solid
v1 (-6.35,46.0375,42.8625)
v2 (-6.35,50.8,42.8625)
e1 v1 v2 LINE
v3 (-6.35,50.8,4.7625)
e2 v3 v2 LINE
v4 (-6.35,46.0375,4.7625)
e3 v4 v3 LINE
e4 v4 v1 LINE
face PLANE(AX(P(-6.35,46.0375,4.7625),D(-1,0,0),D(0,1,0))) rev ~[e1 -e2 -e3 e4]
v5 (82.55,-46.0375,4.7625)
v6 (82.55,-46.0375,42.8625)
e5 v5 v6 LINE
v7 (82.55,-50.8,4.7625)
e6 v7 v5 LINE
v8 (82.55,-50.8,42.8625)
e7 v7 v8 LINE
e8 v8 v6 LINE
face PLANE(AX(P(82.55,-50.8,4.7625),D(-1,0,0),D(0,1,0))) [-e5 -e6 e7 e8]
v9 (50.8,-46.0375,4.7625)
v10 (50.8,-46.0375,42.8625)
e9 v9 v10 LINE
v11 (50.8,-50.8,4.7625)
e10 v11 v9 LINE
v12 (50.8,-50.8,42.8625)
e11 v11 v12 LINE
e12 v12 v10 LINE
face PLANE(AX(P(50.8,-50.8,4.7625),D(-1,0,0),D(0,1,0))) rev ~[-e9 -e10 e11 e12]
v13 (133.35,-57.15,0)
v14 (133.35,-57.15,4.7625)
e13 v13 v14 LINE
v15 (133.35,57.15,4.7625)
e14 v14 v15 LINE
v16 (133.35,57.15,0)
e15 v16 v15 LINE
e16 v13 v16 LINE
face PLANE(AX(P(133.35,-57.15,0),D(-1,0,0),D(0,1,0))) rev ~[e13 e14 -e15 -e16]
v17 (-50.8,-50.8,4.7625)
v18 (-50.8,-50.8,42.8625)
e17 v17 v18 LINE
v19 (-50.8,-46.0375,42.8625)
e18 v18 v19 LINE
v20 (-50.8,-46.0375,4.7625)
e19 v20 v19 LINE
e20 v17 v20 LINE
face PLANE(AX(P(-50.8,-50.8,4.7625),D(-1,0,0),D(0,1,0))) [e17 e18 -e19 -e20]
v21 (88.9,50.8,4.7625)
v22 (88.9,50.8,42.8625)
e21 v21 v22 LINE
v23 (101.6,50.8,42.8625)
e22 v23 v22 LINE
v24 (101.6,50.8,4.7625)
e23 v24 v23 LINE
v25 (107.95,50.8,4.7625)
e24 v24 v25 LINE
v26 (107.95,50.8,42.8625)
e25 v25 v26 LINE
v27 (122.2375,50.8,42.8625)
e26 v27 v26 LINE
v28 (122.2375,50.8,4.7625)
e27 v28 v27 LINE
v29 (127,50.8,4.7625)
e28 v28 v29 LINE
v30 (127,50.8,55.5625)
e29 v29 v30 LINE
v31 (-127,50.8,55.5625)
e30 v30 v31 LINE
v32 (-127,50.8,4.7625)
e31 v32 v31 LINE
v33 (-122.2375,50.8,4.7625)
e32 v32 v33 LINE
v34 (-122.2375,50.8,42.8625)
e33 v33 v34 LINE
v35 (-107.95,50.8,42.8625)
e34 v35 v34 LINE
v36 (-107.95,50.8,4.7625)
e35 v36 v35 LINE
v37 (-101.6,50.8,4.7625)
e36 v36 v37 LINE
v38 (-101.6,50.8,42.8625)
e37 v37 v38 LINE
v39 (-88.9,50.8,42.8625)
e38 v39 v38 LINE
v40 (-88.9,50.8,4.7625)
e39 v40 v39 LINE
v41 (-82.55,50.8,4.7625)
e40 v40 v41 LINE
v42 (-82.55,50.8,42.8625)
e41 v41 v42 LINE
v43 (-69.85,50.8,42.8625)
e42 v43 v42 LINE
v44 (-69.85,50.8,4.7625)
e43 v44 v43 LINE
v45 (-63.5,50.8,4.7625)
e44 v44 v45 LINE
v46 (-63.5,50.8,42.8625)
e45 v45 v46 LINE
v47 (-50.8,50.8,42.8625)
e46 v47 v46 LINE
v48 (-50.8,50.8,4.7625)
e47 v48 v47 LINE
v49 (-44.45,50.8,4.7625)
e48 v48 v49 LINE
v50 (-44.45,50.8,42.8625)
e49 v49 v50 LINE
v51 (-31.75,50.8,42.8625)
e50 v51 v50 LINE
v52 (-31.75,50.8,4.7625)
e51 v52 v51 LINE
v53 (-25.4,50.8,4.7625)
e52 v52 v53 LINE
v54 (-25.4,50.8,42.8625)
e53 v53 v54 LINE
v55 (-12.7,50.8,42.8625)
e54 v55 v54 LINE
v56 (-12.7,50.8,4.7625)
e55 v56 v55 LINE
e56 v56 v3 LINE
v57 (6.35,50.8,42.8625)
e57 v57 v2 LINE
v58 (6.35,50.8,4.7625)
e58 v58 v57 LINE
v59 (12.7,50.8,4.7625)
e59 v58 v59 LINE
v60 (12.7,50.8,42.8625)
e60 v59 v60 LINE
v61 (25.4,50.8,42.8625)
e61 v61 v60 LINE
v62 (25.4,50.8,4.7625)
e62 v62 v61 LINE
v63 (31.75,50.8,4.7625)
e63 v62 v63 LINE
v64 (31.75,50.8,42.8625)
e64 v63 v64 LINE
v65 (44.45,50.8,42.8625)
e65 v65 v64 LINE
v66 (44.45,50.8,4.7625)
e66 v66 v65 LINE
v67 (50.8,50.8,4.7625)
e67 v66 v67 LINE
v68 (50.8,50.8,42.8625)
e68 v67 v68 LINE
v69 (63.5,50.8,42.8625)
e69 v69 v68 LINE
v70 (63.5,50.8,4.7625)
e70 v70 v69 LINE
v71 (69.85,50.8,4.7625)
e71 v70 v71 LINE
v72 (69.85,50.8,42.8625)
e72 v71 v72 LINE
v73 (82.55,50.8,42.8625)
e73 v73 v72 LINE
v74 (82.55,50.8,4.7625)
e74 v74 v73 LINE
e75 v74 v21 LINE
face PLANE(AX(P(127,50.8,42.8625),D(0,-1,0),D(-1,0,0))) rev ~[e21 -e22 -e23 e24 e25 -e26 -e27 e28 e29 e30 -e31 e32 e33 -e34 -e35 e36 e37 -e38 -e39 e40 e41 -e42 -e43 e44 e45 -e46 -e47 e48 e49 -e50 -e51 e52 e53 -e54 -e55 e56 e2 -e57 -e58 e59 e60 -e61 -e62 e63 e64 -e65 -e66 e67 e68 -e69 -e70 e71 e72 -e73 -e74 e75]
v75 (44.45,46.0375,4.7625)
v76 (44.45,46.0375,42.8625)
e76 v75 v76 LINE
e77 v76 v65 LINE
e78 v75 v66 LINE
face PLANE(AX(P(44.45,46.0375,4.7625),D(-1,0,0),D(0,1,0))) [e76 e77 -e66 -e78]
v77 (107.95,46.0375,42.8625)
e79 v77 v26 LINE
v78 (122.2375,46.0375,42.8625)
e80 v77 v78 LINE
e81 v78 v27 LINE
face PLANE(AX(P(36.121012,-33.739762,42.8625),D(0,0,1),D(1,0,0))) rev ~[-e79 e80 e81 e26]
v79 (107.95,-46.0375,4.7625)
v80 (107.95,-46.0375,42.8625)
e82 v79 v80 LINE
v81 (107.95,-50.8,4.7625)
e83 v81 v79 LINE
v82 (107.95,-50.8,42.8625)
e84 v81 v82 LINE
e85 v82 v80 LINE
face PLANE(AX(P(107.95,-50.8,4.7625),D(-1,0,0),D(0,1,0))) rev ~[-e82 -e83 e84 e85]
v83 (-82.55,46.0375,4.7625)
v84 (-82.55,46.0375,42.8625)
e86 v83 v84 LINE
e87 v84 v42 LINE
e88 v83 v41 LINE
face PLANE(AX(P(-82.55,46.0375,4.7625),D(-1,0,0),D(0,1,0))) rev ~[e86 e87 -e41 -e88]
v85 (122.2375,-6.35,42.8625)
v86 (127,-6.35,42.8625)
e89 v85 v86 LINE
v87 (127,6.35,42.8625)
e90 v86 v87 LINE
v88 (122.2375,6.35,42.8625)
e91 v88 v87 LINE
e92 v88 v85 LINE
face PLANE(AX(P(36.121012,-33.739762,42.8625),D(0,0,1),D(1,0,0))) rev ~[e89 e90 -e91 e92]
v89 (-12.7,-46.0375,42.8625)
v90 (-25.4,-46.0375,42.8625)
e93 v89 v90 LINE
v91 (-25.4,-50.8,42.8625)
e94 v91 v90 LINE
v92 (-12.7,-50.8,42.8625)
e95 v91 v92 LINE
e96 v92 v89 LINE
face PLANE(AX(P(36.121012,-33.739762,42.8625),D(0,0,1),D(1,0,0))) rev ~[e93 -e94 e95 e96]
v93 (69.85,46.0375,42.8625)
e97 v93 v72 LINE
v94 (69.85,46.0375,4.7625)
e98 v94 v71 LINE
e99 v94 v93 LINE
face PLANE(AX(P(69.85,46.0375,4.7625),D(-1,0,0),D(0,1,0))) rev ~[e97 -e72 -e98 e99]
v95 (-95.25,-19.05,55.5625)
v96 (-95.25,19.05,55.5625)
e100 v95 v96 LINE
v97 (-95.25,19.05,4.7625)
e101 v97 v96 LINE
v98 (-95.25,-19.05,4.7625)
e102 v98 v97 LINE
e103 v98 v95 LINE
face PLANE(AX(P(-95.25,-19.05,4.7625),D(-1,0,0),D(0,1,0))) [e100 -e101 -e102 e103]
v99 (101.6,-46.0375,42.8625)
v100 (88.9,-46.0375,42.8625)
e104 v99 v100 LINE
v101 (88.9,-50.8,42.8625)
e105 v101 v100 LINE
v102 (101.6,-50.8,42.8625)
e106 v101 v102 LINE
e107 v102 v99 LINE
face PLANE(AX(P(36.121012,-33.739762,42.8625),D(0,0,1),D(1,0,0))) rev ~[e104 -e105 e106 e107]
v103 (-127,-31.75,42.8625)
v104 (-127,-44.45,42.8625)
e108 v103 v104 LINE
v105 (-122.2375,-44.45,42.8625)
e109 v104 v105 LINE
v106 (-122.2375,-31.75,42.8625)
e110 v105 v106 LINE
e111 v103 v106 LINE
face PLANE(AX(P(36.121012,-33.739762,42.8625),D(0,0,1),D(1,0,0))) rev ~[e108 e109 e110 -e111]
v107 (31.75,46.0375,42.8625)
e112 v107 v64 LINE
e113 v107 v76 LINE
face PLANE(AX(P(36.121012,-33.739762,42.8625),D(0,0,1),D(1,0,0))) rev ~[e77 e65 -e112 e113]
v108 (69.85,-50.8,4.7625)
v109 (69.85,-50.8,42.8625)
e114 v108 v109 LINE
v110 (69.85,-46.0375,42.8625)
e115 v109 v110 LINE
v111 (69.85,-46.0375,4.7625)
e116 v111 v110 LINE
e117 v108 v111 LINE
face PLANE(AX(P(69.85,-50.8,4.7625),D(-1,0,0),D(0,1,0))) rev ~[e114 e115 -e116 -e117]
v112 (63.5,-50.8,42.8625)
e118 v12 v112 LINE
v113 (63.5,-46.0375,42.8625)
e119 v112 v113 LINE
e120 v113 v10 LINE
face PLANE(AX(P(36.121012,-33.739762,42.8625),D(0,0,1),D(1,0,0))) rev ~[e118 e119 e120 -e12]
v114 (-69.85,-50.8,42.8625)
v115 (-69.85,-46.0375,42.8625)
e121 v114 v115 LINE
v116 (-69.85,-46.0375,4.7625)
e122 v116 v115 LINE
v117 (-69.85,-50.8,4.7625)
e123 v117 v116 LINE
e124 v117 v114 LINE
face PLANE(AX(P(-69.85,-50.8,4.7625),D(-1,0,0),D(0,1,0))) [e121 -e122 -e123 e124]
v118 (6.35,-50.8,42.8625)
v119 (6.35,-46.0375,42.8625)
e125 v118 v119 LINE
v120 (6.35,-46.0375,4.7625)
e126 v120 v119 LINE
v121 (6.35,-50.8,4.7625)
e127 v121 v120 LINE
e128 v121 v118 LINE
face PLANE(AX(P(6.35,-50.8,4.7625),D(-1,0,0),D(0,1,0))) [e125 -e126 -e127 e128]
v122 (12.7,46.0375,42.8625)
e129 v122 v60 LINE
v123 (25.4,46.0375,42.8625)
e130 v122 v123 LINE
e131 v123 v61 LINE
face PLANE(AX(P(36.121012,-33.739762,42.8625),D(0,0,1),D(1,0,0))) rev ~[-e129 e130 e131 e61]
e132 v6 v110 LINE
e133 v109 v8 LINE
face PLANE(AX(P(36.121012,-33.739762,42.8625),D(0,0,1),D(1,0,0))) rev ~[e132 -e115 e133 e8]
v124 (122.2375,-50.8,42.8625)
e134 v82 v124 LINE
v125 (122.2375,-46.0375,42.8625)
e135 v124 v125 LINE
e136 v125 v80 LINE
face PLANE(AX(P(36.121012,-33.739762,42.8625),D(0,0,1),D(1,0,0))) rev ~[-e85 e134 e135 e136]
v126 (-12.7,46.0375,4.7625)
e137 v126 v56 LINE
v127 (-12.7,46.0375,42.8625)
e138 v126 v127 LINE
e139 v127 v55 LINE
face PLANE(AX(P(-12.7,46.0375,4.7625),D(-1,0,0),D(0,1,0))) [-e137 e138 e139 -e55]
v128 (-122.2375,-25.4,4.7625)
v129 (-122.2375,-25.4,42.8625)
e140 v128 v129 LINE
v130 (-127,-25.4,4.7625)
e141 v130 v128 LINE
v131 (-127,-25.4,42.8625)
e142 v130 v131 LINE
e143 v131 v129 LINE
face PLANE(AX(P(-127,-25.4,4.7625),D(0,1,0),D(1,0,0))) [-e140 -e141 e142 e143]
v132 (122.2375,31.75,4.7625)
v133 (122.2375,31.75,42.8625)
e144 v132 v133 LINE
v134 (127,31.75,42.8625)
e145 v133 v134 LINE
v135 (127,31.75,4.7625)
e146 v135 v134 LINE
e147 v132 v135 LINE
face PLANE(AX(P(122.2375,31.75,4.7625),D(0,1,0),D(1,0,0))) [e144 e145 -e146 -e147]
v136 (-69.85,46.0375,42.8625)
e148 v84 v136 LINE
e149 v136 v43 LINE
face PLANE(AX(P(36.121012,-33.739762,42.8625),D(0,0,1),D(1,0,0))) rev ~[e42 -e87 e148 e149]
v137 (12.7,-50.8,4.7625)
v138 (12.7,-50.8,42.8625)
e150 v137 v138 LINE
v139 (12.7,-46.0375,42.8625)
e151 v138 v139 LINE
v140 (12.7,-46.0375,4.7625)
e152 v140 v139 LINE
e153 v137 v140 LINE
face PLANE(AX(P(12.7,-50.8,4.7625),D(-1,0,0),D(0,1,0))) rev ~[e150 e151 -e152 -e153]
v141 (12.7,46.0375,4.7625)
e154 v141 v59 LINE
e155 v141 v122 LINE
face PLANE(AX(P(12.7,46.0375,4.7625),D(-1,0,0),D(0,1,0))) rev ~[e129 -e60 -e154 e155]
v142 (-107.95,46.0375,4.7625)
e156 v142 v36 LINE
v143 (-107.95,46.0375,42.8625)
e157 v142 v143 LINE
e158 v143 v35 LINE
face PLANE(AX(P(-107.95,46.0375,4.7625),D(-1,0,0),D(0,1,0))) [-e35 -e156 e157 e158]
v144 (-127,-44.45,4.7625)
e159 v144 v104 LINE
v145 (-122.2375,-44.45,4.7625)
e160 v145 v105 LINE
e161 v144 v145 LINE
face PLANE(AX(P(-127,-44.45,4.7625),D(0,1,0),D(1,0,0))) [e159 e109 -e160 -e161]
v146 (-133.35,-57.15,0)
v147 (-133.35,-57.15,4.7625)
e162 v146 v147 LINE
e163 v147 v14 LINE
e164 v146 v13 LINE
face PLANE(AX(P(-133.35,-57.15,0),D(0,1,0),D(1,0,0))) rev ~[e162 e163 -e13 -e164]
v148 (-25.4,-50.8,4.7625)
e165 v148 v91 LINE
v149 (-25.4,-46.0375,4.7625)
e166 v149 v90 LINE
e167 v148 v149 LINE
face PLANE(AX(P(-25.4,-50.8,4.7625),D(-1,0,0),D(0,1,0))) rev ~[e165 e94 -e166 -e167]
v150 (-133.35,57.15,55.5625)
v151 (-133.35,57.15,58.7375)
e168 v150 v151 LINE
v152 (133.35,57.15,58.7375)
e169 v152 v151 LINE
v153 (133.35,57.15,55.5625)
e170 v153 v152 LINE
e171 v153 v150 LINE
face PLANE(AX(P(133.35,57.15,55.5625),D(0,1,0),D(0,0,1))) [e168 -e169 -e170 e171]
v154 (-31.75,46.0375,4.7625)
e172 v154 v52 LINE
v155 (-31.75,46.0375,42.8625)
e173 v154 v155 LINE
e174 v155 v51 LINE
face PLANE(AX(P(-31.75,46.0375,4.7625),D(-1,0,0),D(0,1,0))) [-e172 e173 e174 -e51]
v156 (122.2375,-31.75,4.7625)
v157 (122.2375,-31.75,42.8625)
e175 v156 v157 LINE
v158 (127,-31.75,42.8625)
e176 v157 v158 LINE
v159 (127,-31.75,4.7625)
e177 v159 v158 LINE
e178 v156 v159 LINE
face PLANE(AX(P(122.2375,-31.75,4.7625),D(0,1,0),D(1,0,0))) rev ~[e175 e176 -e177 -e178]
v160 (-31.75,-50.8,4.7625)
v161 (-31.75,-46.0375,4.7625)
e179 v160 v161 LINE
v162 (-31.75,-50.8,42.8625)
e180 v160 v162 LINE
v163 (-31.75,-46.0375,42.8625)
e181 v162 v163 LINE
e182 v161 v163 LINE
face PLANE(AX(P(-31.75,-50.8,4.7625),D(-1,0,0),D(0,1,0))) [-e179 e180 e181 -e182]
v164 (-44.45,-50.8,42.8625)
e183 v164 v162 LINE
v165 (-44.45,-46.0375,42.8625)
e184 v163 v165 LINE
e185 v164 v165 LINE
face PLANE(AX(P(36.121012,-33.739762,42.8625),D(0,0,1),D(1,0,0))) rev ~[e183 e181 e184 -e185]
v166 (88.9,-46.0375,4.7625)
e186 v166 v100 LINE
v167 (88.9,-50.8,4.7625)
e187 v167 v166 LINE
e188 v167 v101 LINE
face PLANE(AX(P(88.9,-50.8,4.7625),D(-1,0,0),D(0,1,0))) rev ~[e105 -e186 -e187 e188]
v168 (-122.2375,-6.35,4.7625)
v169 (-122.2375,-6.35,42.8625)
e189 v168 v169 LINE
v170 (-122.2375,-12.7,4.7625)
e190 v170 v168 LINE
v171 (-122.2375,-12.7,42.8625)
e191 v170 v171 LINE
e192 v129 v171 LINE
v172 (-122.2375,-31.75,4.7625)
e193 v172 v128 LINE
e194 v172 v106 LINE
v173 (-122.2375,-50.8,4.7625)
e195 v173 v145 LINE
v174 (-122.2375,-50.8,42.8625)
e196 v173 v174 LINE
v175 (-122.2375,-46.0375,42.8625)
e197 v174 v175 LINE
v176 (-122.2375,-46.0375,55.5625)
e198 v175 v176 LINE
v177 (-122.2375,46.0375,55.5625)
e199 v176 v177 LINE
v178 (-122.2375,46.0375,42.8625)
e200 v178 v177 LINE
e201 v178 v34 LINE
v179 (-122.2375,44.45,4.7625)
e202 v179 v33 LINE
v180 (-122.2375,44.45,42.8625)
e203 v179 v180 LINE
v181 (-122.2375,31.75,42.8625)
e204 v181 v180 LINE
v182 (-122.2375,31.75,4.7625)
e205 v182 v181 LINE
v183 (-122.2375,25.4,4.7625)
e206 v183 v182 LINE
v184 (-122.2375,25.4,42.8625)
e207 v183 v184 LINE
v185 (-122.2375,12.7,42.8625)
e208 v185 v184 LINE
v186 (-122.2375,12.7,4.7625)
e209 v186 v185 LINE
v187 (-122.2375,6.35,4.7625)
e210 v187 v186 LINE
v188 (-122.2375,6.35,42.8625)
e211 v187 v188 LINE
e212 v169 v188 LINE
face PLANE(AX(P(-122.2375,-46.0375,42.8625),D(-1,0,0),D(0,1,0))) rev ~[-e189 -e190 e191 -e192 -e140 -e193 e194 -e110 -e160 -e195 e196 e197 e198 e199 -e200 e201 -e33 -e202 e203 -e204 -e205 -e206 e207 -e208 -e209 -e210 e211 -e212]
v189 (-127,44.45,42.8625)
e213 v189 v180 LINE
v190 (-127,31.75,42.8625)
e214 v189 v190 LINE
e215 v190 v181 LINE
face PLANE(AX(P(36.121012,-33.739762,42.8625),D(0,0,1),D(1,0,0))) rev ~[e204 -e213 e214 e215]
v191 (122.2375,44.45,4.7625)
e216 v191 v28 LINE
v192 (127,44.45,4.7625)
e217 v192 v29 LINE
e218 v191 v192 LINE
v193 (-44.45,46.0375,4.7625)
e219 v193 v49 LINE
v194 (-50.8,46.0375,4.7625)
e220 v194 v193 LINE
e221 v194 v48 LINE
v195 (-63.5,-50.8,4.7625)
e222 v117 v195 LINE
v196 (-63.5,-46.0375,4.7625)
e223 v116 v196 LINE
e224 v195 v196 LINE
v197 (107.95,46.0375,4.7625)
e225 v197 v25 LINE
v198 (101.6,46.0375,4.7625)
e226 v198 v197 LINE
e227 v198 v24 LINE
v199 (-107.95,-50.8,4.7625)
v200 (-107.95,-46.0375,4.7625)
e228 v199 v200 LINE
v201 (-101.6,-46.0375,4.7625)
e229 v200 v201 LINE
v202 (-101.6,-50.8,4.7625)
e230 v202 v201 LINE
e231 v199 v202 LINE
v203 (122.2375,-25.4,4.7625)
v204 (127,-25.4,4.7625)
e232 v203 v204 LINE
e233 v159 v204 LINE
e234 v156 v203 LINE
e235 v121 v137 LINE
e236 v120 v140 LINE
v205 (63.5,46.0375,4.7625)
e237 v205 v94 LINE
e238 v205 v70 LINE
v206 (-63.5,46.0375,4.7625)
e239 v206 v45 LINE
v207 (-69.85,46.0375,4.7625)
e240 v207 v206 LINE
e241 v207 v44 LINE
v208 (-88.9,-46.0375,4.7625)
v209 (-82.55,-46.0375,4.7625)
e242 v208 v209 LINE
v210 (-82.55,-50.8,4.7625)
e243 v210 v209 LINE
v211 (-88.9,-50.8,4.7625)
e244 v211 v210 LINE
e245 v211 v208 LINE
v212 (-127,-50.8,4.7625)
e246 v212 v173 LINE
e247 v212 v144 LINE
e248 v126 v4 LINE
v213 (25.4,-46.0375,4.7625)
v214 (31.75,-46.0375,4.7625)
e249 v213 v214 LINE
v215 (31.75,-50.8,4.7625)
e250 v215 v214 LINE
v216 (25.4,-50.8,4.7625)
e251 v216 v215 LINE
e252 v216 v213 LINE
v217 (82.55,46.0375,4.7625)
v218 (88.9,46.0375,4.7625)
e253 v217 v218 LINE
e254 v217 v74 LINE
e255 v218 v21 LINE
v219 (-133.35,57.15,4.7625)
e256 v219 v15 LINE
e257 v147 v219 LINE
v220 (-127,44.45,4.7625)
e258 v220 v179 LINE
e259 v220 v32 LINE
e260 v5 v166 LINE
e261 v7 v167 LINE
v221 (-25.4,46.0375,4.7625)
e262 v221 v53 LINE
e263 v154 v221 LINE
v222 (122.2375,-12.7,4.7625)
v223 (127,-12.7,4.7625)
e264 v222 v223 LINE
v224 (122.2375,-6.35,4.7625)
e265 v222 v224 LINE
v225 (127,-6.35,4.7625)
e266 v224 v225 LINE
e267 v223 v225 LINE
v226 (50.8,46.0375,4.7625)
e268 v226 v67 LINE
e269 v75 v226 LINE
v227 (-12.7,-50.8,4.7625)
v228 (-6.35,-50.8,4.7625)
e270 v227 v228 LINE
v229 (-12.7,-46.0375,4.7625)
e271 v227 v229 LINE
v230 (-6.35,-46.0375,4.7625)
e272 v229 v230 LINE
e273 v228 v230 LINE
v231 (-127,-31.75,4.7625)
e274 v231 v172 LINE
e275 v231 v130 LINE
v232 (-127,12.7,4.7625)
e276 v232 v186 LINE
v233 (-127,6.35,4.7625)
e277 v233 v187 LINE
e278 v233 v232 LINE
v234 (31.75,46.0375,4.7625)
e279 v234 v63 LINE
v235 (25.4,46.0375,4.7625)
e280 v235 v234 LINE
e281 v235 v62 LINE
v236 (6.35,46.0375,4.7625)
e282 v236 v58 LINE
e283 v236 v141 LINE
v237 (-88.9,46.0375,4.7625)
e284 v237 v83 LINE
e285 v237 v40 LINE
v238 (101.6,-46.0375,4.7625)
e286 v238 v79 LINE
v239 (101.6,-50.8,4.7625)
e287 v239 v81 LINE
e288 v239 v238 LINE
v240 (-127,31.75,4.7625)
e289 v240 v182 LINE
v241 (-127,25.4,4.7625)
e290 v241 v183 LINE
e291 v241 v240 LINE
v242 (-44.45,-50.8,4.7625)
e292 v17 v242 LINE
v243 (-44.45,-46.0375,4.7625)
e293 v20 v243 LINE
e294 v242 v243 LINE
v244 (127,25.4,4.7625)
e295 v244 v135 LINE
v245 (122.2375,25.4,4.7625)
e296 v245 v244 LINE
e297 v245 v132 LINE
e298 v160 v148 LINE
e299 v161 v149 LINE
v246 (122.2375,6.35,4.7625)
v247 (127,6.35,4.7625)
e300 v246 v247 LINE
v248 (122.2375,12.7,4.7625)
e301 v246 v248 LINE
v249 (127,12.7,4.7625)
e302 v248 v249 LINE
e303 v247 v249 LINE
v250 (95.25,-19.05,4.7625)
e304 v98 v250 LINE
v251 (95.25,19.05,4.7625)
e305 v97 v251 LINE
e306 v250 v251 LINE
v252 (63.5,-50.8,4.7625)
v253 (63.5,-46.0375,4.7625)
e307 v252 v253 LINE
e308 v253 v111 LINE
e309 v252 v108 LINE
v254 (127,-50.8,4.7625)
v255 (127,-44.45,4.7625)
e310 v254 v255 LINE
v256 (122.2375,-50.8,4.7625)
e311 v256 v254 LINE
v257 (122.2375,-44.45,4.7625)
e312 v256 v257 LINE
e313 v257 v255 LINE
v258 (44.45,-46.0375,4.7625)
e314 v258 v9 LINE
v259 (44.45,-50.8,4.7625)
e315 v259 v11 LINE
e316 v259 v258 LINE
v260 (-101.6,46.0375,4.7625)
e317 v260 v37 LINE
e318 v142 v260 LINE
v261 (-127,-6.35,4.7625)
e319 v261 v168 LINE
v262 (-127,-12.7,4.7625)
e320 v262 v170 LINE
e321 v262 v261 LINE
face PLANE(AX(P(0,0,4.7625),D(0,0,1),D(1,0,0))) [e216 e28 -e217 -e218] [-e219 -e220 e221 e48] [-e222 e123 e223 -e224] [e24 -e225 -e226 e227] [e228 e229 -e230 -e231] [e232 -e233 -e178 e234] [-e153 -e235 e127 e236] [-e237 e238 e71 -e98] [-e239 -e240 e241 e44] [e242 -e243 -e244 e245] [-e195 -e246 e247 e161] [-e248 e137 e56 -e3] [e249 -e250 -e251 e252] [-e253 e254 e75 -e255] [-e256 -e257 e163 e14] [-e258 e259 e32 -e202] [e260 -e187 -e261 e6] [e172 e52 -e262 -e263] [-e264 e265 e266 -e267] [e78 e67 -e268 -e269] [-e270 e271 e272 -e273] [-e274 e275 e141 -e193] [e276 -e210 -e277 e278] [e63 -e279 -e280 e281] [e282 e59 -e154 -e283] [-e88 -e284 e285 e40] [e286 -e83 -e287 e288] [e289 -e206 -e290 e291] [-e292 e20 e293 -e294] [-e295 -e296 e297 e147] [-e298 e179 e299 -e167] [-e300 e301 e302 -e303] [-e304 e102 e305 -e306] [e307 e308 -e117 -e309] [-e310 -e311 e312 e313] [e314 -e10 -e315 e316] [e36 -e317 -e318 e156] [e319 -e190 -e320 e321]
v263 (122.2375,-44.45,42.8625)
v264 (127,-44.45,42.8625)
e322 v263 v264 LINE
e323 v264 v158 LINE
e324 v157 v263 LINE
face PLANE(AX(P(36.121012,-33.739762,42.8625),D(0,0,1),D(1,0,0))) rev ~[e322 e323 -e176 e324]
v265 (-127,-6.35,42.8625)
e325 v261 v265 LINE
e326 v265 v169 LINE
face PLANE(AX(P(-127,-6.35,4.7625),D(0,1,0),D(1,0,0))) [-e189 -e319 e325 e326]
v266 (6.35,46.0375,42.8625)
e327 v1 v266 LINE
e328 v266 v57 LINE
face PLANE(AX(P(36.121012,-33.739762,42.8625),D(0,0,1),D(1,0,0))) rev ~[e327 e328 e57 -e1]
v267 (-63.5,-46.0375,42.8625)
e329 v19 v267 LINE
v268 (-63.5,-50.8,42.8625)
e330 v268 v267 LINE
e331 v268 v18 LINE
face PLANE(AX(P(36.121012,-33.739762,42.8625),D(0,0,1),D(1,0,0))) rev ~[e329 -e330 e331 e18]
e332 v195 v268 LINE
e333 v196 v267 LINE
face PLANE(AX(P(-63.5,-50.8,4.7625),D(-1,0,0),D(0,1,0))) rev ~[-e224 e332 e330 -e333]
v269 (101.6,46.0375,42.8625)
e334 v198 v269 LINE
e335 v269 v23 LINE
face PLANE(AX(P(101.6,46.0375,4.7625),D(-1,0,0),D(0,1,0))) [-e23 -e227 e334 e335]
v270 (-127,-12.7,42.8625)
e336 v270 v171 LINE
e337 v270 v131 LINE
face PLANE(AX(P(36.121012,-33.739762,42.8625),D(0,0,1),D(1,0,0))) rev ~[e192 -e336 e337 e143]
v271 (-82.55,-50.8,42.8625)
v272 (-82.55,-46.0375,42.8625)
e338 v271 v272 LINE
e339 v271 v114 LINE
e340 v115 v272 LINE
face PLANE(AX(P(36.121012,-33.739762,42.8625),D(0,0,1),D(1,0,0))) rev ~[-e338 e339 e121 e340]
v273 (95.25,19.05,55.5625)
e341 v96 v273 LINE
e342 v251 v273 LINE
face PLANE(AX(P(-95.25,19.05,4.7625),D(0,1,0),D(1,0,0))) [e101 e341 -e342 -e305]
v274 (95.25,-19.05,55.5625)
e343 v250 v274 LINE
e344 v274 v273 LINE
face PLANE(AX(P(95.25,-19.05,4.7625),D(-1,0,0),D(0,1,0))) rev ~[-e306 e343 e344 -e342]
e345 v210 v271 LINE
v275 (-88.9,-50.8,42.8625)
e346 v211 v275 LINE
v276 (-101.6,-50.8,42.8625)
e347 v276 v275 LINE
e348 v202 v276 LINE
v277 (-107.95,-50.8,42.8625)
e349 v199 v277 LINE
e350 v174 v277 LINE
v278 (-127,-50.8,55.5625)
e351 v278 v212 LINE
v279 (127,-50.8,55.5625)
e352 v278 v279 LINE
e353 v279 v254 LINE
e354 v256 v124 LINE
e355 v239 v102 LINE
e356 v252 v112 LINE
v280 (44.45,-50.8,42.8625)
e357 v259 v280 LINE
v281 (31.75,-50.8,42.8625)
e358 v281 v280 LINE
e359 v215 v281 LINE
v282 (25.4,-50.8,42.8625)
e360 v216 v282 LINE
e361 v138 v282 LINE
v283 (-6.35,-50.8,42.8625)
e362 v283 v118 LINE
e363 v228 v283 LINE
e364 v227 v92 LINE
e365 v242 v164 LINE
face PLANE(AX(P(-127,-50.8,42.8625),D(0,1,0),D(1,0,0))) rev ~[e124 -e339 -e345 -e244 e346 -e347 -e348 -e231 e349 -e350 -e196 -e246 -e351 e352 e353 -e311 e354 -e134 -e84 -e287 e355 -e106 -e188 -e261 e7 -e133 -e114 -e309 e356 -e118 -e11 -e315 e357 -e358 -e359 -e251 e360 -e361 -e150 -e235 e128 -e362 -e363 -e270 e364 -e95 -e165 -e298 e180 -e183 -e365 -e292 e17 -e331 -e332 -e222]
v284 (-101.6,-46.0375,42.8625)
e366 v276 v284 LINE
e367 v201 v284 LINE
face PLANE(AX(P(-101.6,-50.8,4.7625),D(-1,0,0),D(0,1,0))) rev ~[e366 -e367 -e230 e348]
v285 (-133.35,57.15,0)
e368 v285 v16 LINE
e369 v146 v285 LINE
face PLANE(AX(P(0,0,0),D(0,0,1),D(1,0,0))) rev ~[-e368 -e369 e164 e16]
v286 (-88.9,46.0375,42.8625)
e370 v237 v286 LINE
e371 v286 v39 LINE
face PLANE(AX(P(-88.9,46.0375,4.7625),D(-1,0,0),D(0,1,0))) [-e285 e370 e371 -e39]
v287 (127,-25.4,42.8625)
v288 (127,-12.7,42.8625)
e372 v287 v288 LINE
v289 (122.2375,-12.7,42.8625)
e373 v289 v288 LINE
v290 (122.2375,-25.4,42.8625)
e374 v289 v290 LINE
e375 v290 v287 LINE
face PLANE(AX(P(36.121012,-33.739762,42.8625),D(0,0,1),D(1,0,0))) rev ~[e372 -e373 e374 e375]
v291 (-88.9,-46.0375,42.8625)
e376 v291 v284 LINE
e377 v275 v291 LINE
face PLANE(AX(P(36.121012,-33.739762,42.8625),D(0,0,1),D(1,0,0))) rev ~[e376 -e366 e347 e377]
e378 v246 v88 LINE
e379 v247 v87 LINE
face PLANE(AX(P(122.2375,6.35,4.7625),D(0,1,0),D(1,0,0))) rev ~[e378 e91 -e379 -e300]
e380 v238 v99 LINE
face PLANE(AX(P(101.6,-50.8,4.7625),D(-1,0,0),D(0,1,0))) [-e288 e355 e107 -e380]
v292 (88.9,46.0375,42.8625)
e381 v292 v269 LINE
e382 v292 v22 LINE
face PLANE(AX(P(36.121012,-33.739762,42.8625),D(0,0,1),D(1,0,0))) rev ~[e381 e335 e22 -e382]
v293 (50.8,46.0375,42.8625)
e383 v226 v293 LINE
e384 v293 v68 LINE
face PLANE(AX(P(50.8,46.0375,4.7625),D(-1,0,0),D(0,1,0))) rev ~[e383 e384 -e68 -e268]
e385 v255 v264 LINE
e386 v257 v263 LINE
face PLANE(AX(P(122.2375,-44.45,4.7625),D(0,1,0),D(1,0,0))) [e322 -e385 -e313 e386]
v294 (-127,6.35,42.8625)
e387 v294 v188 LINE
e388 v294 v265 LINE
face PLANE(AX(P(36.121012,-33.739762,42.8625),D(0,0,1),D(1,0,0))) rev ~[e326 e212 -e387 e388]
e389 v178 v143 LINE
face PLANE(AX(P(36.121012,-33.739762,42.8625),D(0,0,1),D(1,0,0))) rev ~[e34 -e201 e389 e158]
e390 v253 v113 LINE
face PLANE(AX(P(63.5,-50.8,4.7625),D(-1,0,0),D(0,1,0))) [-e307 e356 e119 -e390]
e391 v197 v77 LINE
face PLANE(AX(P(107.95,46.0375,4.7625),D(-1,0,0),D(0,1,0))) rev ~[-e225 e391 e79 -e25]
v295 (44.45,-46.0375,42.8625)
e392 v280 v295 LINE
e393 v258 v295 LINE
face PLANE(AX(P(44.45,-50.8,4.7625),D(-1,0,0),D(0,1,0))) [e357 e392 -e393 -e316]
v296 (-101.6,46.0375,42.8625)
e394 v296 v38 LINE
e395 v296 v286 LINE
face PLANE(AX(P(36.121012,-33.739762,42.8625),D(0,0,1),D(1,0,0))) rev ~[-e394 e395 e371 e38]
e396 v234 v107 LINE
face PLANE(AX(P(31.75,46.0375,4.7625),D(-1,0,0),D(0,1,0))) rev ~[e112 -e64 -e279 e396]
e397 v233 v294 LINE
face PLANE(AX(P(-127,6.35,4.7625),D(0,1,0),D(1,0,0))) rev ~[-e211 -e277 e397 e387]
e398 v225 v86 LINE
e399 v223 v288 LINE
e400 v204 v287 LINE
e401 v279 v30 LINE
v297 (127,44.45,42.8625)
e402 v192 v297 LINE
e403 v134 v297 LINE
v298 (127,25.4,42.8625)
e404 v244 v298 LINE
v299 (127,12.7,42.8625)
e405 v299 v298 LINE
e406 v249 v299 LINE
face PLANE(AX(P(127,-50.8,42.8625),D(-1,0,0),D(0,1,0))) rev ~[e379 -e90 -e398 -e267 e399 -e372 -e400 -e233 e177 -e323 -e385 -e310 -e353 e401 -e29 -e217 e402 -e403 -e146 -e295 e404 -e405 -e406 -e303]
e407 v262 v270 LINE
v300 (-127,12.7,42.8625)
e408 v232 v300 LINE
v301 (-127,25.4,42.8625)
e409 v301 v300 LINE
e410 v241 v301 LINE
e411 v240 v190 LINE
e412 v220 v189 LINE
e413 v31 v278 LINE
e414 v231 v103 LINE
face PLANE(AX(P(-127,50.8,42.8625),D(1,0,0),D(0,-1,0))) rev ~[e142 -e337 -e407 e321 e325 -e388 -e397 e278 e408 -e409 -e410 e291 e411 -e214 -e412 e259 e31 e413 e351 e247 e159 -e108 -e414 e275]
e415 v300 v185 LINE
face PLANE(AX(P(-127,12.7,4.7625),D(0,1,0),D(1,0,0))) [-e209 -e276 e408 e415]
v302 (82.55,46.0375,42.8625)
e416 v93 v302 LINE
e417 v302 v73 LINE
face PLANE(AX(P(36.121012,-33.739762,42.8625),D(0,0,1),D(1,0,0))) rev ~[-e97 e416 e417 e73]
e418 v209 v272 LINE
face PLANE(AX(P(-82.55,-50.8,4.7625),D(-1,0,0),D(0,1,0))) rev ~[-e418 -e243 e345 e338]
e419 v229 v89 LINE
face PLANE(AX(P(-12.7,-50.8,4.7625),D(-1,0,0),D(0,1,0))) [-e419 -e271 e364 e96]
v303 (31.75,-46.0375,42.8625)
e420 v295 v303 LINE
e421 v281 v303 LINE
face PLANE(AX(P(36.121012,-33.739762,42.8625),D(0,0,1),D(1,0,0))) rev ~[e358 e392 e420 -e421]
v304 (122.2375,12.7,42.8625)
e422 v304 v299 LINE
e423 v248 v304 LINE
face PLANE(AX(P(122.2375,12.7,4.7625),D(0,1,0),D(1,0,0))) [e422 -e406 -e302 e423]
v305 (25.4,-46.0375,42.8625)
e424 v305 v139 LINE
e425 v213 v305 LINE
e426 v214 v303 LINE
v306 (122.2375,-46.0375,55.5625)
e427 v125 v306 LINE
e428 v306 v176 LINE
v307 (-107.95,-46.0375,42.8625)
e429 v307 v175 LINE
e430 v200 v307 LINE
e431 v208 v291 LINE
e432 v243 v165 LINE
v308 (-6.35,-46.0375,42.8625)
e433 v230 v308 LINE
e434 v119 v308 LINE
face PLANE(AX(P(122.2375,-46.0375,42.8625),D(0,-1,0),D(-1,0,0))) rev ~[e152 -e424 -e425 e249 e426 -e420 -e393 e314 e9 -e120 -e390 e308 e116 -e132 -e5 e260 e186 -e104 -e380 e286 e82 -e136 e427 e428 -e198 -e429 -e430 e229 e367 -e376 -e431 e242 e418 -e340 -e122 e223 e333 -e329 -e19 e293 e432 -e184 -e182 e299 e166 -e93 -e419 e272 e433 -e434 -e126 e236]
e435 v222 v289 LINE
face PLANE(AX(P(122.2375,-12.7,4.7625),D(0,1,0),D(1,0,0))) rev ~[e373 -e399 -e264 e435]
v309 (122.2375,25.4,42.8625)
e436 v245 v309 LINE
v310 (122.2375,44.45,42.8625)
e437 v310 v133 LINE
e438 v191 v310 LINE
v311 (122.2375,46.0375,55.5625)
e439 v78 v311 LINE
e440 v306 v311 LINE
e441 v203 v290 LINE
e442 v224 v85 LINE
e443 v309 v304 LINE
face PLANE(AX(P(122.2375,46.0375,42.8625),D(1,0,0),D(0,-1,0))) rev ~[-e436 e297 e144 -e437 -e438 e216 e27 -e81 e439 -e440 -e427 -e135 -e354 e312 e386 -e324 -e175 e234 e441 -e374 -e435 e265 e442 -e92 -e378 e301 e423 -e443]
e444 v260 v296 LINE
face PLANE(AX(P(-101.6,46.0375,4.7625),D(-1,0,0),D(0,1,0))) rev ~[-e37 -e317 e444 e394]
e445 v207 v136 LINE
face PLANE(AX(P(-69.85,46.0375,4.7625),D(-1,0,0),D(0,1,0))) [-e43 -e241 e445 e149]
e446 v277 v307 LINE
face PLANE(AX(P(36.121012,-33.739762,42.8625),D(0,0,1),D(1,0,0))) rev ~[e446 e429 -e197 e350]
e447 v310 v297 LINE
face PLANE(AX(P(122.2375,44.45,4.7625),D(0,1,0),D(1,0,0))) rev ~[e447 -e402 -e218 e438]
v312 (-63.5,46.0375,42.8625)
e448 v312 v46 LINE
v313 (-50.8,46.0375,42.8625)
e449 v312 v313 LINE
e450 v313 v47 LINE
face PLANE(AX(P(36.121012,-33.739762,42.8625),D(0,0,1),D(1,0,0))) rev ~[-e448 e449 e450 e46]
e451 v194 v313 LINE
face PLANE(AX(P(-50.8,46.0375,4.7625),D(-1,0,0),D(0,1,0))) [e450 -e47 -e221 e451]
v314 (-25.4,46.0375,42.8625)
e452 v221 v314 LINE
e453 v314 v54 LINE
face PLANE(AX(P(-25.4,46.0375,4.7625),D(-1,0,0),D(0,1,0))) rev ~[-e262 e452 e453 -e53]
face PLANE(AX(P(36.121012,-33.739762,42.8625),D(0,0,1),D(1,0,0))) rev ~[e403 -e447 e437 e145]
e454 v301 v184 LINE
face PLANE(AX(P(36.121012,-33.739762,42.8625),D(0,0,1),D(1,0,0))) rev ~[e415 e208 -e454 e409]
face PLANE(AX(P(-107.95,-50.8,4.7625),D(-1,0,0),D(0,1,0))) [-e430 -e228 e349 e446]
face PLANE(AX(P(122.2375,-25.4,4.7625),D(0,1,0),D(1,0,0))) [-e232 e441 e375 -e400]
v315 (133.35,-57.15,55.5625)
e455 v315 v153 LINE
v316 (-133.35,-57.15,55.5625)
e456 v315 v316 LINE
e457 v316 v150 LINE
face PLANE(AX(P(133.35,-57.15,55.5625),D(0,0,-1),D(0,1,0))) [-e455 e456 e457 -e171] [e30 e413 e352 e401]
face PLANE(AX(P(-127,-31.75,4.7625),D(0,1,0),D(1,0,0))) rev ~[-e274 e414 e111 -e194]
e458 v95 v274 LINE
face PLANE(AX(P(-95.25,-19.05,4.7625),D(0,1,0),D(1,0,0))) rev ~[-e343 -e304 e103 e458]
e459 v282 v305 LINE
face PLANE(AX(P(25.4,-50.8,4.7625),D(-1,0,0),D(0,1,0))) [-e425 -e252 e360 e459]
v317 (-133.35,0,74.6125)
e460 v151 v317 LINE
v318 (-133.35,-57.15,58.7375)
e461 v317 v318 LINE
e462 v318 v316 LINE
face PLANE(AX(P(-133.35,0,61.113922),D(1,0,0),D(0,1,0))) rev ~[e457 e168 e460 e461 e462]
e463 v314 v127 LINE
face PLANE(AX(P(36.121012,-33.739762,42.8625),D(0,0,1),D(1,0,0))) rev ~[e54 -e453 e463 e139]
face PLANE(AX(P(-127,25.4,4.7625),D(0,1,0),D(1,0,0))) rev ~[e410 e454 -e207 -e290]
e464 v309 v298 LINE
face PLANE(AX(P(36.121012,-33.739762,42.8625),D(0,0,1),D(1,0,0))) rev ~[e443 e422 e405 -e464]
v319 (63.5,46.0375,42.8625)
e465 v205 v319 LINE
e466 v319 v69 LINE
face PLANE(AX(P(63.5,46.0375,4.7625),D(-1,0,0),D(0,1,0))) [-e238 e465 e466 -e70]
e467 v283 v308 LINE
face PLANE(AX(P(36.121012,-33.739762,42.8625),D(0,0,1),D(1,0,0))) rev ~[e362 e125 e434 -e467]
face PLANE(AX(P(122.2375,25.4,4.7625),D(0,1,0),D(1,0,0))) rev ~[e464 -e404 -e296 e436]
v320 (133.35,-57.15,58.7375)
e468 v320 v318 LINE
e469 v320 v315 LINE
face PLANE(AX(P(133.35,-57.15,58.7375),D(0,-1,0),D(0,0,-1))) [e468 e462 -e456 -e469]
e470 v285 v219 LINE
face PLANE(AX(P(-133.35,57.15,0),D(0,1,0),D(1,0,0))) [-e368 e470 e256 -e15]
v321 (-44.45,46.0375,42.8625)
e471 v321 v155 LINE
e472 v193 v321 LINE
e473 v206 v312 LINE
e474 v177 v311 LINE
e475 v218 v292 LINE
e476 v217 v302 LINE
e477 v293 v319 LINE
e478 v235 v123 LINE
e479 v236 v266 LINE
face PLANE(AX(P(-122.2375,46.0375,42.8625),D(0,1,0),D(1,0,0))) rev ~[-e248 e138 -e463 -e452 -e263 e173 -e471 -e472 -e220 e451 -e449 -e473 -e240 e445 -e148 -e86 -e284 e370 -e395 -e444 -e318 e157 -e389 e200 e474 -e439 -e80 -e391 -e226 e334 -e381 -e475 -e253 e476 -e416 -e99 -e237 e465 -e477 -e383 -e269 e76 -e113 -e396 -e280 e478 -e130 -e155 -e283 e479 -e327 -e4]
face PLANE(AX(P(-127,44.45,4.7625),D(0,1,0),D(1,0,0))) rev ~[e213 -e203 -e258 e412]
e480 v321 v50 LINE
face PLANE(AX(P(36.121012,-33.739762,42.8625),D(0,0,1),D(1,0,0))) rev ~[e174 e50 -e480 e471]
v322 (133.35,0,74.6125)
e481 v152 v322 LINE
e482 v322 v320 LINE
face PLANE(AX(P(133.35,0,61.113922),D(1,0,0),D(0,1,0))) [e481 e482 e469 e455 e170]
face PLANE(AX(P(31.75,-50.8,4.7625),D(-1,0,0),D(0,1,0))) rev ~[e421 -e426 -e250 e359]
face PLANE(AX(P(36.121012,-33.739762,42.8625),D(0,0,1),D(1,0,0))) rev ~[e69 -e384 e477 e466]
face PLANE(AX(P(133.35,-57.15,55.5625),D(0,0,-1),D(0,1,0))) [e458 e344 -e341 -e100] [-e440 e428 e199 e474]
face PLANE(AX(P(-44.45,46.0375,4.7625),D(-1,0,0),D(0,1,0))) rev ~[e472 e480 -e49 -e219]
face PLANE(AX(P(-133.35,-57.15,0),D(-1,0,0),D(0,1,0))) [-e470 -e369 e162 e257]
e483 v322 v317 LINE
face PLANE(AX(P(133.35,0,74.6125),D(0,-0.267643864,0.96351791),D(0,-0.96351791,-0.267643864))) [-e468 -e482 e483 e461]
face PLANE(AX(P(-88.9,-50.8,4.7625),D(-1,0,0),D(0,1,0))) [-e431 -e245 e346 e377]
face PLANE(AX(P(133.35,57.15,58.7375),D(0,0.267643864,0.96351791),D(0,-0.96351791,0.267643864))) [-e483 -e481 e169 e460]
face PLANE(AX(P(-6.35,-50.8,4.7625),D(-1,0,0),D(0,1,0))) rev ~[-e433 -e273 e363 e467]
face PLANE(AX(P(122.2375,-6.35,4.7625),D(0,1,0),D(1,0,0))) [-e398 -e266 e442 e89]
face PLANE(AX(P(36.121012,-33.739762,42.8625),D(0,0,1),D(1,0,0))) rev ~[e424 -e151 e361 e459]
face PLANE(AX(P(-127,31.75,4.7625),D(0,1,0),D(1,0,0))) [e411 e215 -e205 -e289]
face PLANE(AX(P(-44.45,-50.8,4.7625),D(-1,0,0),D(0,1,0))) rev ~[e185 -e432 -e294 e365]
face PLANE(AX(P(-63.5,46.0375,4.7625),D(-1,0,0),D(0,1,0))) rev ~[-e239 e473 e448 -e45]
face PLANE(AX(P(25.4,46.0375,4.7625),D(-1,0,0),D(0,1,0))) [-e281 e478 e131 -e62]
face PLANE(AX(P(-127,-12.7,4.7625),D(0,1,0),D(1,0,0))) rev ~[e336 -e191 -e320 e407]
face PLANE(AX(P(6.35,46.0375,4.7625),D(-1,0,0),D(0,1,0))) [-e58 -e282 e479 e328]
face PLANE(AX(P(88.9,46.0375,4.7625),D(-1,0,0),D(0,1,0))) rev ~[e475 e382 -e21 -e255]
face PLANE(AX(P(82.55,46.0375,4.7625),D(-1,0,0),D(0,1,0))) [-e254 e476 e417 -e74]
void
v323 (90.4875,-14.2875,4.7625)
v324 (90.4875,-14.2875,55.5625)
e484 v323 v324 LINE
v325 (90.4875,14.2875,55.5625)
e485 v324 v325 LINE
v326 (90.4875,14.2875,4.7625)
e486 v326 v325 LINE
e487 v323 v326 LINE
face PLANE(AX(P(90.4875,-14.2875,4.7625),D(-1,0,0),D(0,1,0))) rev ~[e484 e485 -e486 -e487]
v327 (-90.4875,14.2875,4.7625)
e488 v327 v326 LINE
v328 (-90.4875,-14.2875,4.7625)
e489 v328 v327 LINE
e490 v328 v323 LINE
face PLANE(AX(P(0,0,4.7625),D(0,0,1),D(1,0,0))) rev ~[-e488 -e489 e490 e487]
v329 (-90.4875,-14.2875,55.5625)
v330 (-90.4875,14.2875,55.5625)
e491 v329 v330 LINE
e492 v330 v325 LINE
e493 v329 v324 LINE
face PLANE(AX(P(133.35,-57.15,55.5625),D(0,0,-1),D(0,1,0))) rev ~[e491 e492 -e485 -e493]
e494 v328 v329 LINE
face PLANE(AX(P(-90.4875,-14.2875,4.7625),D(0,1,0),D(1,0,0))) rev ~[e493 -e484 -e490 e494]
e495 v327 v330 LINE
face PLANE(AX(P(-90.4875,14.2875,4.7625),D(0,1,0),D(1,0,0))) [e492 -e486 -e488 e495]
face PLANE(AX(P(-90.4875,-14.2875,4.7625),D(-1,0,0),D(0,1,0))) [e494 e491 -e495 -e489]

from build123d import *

# Parameters (mm, degrees)
F0_W     = 266.7
F0_H     = 114.3
F1_DEPTH = 4.7625
F2_W     = 4.7625
F2_H     = 6.35
F2_W_2   = 6.35
F2_H_2   = 4.7625
F3_DEPTH = 38.1
F5_DEPTH = 12.7
F6_W     = 4.7625
F6_H     = 6.35
F6_W_2   = 6.35
F6_H_2   = 4.7625
F6_W_3   = 190.5
F6_H_3   = 38.1
F6_W_4   = 180.975
F6_H_4   = 28.575
F7_DEPTH = 50.8
F9_DEPTH = 266.7


with BuildPart() as f1:
    # F0 (on Top) → F1 (new body)
    with BuildSketch(Plane.XY):
        Rectangle(F0_W, F0_H)
    extrude(amount=F1_DEPTH)

    # F2 (on face) → F3 (join)
    with BuildSketch(Plane.XY.offset(4.7625)):
        with Locations((124.61875, -47.625)):
            Rectangle(F2_W, F2_H)
        with Locations((124.61875, 9.525)):
            Rectangle(F2_W, F2_H)
        with Locations((124.61875, 28.575)):
            Rectangle(F2_W, F2_H)
        with Locations((124.61875, -9.525)):
            Rectangle(F2_W, F2_H)
        with Locations((124.61875, -28.575)):
            Rectangle(F2_W, F2_H)
        with Locations((-124.61875, 47.625)):
            Rectangle(F2_W, F2_H)
        with Locations((-104.775, 48.41875)):
            Rectangle(F2_W_2, F2_H_2)
        with Locations((-85.725, 48.41875)):
            Rectangle(F2_W_2, F2_H_2)
        with Locations((-66.675, 48.41875)):
            Rectangle(F2_W_2, F2_H_2)
        with Locations((-47.625, 48.41875)):
            Rectangle(F2_W_2, F2_H_2)
        with Locations((-28.575, 48.41875)):
            Rectangle(F2_W_2, F2_H_2)
        with Locations((9.525, 48.41875)):
            Rectangle(F2_W_2, F2_H_2)
        with Locations((28.575, 48.41875)):
            Rectangle(F2_W_2, F2_H_2)
        with Locations((47.625, 48.41875)):
            Rectangle(F2_W_2, F2_H_2)
        with Locations((66.675, 48.41875)):
            Rectangle(F2_W_2, F2_H_2)
        with Locations((85.725, 48.41875)):
            Rectangle(F2_W_2, F2_H_2)
        with Locations((104.775, 48.41875)):
            Rectangle(F2_W_2, F2_H_2)
        with Locations((124.61875, 47.625)):
            Rectangle(F2_W, F2_H)
        with Locations((-9.525, 48.41875)):
            Rectangle(F2_W_2, F2_H_2)
        with Locations((-124.61875, 28.575)):
            Rectangle(F2_W, F2_H)
        with Locations((-124.61875, 9.525)):
            Rectangle(F2_W, F2_H)
        with Locations((-124.61875, -9.525)):
            Rectangle(F2_W, F2_H)
        with Locations((-124.61875, -47.625)):
            Rectangle(F2_W, F2_H)
        with Locations((-104.775, -48.41875)):
            Rectangle(F2_W_2, F2_H_2)
        with Locations((-85.725, -48.41875)):
            Rectangle(F2_W_2, F2_H_2)
        with Locations((-124.61875, -28.575)):
            Rectangle(F2_W, F2_H)
        with Locations((-66.675, -48.41875)):
            Rectangle(F2_W_2, F2_H_2)
        with Locations((-47.625, -48.41875)):
            Rectangle(F2_W_2, F2_H_2)
        with Locations((-28.575, -48.41875)):
            Rectangle(F2_W_2, F2_H_2)
        with Locations((-9.525, -48.41875)):
            Rectangle(F2_W_2, F2_H_2)
        with Locations((9.525, -48.41875)):
            Rectangle(F2_W_2, F2_H_2)
        with Locations((28.575, -48.41875)):
            Rectangle(F2_W_2, F2_H_2)
        with Locations((47.625, -48.41875)):
            Rectangle(F2_W_2, F2_H_2)
        with Locations((66.675, -48.41875)):
            Rectangle(F2_W_2, F2_H_2)
        with Locations((85.725, -48.41875)):
            Rectangle(F2_W_2, F2_H_2)
        with Locations((104.775, -48.41875)):
            Rectangle(F2_W_2, F2_H_2)
    extrude(amount=F3_DEPTH)

    # F4 (on face) → F5 (join)
    with BuildSketch(Plane.XY.offset(42.8625)):
        Polygon((127, -50.8), (127, 50.8), (122.2375, 50.8), (122.2375, 46.0375), (122.2375, 44.45), (122.2375, -46.0375), (-122.2375, -46.0375), (-122.2375, -50.8), align=None)
        Polygon((122.2375, 46.0375), (122.2375, 50.8), (-127, 50.8), (-127, -50.8), (-122.2375, -50.8), (-122.2375, -46.0375), (-122.2375, -44.45), (-122.2375, 46.0375), align=None)
    extrude(amount=F5_DEPTH)

    # F6 (on face) → F7 (join)
    with BuildSketch(Plane.XY.offset(4.7625)):
        with Locations((124.61875, 28.575)):
            Rectangle(F6_W, F6_H)
        with Locations((124.61875, 9.525)):
            Rectangle(F6_W, F6_H)
        with Locations((124.61875, -9.525)):
            Rectangle(F6_W, F6_H)
        with Locations((124.61875, -28.575)):
            Rectangle(F6_W, F6_H)
        with Locations((124.61875, 47.625)):
            Rectangle(F6_W, F6_H)
        with Locations((124.61875, -47.625)):
            Rectangle(F6_W, F6_H)
        with Locations((-124.61875, -47.625)):
            Rectangle(F6_W, F6_H)
        with Locations((9.525, -48.41875)):
            Rectangle(F6_W_2, F6_H_2)
        with Locations((-66.675, -48.41875)):
            Rectangle(F6_W_2, F6_H_2)
        with Locations((47.625, -48.41875)):
            Rectangle(F6_W_2, F6_H_2)
        with Locations((-28.575, -48.41875)):
            Rectangle(F6_W_2, F6_H_2)
        with Locations((-104.775, -48.41875)):
            Rectangle(F6_W_2, F6_H_2)
        with Locations((-85.725, -48.41875)):
            Rectangle(F6_W_2, F6_H_2)
        with Locations((-9.525, -48.41875)):
            Rectangle(F6_W_2, F6_H_2)
        with Locations((66.675, -48.41875)):
            Rectangle(F6_W_2, F6_H_2)
        with Locations((85.725, -48.41875)):
            Rectangle(F6_W_2, F6_H_2)
        with Locations((104.775, -48.41875)):
            Rectangle(F6_W_2, F6_H_2)
        with Locations((-47.625, -48.41875)):
            Rectangle(F6_W_2, F6_H_2)
        with Locations((28.575, -48.41875)):
            Rectangle(F6_W_2, F6_H_2)
        with Locations((-124.61875, 28.575)):
            Rectangle(F6_W, F6_H)
        with Locations((-124.61875, 9.525)):
            Rectangle(F6_W, F6_H)
        with Locations((-124.61875, -9.525)):
            Rectangle(F6_W, F6_H)
        with Locations((-124.61875, -28.575)):
            Rectangle(F6_W, F6_H)
        with Locations((-124.61875, 47.625)):
            Rectangle(F6_W, F6_H)
        with Locations((104.775, 48.41875)):
            Rectangle(F6_W_2, F6_H_2)
        with Locations((47.625, 48.41875)):
            Rectangle(F6_W_2, F6_H_2)
        with Locations((85.725, 48.41875)):
            Rectangle(F6_W_2, F6_H_2)
        with Locations((66.675, 48.41875)):
            Rectangle(F6_W_2, F6_H_2)
        with Locations((28.575, 48.41875)):
            Rectangle(F6_W_2, F6_H_2)
        with Locations((9.525, 48.41875)):
            Rectangle(F6_W_2, F6_H_2)
        with Locations((-9.525, 48.41875)):
            Rectangle(F6_W_2, F6_H_2)
        with Locations((-28.575, 48.41875)):
            Rectangle(F6_W_2, F6_H_2)
        with Locations((-47.625, 48.41875)):
            Rectangle(F6_W_2, F6_H_2)
        with Locations((-66.675, 48.41875)):
            Rectangle(F6_W_2, F6_H_2)
        with Locations((-85.725, 48.41875)):
            Rectangle(F6_W_2, F6_H_2)
        with Locations((-104.775, 48.41875)):
            Rectangle(F6_W_2, F6_H_2)
        Rectangle(F6_W_3, F6_H_3)
        Rectangle(F6_W_4, F6_H_4, mode=Mode.SUBTRACT)
    extrude(amount=F7_DEPTH)

    # F8 (on face) → F9 (join, through all)
    with BuildSketch(Plane.YZ.offset(133.35)):
        Polygon((-57.15, 55.5625), (-50.8, 55.5625), (50.8, 55.5625), (57.15, 55.5625), (57.15, 58.7375), (0, 74.6125), (-57.15, 58.7375), align=None)
    extrude(amount=-F9_DEPTH)


solid = f1.part
